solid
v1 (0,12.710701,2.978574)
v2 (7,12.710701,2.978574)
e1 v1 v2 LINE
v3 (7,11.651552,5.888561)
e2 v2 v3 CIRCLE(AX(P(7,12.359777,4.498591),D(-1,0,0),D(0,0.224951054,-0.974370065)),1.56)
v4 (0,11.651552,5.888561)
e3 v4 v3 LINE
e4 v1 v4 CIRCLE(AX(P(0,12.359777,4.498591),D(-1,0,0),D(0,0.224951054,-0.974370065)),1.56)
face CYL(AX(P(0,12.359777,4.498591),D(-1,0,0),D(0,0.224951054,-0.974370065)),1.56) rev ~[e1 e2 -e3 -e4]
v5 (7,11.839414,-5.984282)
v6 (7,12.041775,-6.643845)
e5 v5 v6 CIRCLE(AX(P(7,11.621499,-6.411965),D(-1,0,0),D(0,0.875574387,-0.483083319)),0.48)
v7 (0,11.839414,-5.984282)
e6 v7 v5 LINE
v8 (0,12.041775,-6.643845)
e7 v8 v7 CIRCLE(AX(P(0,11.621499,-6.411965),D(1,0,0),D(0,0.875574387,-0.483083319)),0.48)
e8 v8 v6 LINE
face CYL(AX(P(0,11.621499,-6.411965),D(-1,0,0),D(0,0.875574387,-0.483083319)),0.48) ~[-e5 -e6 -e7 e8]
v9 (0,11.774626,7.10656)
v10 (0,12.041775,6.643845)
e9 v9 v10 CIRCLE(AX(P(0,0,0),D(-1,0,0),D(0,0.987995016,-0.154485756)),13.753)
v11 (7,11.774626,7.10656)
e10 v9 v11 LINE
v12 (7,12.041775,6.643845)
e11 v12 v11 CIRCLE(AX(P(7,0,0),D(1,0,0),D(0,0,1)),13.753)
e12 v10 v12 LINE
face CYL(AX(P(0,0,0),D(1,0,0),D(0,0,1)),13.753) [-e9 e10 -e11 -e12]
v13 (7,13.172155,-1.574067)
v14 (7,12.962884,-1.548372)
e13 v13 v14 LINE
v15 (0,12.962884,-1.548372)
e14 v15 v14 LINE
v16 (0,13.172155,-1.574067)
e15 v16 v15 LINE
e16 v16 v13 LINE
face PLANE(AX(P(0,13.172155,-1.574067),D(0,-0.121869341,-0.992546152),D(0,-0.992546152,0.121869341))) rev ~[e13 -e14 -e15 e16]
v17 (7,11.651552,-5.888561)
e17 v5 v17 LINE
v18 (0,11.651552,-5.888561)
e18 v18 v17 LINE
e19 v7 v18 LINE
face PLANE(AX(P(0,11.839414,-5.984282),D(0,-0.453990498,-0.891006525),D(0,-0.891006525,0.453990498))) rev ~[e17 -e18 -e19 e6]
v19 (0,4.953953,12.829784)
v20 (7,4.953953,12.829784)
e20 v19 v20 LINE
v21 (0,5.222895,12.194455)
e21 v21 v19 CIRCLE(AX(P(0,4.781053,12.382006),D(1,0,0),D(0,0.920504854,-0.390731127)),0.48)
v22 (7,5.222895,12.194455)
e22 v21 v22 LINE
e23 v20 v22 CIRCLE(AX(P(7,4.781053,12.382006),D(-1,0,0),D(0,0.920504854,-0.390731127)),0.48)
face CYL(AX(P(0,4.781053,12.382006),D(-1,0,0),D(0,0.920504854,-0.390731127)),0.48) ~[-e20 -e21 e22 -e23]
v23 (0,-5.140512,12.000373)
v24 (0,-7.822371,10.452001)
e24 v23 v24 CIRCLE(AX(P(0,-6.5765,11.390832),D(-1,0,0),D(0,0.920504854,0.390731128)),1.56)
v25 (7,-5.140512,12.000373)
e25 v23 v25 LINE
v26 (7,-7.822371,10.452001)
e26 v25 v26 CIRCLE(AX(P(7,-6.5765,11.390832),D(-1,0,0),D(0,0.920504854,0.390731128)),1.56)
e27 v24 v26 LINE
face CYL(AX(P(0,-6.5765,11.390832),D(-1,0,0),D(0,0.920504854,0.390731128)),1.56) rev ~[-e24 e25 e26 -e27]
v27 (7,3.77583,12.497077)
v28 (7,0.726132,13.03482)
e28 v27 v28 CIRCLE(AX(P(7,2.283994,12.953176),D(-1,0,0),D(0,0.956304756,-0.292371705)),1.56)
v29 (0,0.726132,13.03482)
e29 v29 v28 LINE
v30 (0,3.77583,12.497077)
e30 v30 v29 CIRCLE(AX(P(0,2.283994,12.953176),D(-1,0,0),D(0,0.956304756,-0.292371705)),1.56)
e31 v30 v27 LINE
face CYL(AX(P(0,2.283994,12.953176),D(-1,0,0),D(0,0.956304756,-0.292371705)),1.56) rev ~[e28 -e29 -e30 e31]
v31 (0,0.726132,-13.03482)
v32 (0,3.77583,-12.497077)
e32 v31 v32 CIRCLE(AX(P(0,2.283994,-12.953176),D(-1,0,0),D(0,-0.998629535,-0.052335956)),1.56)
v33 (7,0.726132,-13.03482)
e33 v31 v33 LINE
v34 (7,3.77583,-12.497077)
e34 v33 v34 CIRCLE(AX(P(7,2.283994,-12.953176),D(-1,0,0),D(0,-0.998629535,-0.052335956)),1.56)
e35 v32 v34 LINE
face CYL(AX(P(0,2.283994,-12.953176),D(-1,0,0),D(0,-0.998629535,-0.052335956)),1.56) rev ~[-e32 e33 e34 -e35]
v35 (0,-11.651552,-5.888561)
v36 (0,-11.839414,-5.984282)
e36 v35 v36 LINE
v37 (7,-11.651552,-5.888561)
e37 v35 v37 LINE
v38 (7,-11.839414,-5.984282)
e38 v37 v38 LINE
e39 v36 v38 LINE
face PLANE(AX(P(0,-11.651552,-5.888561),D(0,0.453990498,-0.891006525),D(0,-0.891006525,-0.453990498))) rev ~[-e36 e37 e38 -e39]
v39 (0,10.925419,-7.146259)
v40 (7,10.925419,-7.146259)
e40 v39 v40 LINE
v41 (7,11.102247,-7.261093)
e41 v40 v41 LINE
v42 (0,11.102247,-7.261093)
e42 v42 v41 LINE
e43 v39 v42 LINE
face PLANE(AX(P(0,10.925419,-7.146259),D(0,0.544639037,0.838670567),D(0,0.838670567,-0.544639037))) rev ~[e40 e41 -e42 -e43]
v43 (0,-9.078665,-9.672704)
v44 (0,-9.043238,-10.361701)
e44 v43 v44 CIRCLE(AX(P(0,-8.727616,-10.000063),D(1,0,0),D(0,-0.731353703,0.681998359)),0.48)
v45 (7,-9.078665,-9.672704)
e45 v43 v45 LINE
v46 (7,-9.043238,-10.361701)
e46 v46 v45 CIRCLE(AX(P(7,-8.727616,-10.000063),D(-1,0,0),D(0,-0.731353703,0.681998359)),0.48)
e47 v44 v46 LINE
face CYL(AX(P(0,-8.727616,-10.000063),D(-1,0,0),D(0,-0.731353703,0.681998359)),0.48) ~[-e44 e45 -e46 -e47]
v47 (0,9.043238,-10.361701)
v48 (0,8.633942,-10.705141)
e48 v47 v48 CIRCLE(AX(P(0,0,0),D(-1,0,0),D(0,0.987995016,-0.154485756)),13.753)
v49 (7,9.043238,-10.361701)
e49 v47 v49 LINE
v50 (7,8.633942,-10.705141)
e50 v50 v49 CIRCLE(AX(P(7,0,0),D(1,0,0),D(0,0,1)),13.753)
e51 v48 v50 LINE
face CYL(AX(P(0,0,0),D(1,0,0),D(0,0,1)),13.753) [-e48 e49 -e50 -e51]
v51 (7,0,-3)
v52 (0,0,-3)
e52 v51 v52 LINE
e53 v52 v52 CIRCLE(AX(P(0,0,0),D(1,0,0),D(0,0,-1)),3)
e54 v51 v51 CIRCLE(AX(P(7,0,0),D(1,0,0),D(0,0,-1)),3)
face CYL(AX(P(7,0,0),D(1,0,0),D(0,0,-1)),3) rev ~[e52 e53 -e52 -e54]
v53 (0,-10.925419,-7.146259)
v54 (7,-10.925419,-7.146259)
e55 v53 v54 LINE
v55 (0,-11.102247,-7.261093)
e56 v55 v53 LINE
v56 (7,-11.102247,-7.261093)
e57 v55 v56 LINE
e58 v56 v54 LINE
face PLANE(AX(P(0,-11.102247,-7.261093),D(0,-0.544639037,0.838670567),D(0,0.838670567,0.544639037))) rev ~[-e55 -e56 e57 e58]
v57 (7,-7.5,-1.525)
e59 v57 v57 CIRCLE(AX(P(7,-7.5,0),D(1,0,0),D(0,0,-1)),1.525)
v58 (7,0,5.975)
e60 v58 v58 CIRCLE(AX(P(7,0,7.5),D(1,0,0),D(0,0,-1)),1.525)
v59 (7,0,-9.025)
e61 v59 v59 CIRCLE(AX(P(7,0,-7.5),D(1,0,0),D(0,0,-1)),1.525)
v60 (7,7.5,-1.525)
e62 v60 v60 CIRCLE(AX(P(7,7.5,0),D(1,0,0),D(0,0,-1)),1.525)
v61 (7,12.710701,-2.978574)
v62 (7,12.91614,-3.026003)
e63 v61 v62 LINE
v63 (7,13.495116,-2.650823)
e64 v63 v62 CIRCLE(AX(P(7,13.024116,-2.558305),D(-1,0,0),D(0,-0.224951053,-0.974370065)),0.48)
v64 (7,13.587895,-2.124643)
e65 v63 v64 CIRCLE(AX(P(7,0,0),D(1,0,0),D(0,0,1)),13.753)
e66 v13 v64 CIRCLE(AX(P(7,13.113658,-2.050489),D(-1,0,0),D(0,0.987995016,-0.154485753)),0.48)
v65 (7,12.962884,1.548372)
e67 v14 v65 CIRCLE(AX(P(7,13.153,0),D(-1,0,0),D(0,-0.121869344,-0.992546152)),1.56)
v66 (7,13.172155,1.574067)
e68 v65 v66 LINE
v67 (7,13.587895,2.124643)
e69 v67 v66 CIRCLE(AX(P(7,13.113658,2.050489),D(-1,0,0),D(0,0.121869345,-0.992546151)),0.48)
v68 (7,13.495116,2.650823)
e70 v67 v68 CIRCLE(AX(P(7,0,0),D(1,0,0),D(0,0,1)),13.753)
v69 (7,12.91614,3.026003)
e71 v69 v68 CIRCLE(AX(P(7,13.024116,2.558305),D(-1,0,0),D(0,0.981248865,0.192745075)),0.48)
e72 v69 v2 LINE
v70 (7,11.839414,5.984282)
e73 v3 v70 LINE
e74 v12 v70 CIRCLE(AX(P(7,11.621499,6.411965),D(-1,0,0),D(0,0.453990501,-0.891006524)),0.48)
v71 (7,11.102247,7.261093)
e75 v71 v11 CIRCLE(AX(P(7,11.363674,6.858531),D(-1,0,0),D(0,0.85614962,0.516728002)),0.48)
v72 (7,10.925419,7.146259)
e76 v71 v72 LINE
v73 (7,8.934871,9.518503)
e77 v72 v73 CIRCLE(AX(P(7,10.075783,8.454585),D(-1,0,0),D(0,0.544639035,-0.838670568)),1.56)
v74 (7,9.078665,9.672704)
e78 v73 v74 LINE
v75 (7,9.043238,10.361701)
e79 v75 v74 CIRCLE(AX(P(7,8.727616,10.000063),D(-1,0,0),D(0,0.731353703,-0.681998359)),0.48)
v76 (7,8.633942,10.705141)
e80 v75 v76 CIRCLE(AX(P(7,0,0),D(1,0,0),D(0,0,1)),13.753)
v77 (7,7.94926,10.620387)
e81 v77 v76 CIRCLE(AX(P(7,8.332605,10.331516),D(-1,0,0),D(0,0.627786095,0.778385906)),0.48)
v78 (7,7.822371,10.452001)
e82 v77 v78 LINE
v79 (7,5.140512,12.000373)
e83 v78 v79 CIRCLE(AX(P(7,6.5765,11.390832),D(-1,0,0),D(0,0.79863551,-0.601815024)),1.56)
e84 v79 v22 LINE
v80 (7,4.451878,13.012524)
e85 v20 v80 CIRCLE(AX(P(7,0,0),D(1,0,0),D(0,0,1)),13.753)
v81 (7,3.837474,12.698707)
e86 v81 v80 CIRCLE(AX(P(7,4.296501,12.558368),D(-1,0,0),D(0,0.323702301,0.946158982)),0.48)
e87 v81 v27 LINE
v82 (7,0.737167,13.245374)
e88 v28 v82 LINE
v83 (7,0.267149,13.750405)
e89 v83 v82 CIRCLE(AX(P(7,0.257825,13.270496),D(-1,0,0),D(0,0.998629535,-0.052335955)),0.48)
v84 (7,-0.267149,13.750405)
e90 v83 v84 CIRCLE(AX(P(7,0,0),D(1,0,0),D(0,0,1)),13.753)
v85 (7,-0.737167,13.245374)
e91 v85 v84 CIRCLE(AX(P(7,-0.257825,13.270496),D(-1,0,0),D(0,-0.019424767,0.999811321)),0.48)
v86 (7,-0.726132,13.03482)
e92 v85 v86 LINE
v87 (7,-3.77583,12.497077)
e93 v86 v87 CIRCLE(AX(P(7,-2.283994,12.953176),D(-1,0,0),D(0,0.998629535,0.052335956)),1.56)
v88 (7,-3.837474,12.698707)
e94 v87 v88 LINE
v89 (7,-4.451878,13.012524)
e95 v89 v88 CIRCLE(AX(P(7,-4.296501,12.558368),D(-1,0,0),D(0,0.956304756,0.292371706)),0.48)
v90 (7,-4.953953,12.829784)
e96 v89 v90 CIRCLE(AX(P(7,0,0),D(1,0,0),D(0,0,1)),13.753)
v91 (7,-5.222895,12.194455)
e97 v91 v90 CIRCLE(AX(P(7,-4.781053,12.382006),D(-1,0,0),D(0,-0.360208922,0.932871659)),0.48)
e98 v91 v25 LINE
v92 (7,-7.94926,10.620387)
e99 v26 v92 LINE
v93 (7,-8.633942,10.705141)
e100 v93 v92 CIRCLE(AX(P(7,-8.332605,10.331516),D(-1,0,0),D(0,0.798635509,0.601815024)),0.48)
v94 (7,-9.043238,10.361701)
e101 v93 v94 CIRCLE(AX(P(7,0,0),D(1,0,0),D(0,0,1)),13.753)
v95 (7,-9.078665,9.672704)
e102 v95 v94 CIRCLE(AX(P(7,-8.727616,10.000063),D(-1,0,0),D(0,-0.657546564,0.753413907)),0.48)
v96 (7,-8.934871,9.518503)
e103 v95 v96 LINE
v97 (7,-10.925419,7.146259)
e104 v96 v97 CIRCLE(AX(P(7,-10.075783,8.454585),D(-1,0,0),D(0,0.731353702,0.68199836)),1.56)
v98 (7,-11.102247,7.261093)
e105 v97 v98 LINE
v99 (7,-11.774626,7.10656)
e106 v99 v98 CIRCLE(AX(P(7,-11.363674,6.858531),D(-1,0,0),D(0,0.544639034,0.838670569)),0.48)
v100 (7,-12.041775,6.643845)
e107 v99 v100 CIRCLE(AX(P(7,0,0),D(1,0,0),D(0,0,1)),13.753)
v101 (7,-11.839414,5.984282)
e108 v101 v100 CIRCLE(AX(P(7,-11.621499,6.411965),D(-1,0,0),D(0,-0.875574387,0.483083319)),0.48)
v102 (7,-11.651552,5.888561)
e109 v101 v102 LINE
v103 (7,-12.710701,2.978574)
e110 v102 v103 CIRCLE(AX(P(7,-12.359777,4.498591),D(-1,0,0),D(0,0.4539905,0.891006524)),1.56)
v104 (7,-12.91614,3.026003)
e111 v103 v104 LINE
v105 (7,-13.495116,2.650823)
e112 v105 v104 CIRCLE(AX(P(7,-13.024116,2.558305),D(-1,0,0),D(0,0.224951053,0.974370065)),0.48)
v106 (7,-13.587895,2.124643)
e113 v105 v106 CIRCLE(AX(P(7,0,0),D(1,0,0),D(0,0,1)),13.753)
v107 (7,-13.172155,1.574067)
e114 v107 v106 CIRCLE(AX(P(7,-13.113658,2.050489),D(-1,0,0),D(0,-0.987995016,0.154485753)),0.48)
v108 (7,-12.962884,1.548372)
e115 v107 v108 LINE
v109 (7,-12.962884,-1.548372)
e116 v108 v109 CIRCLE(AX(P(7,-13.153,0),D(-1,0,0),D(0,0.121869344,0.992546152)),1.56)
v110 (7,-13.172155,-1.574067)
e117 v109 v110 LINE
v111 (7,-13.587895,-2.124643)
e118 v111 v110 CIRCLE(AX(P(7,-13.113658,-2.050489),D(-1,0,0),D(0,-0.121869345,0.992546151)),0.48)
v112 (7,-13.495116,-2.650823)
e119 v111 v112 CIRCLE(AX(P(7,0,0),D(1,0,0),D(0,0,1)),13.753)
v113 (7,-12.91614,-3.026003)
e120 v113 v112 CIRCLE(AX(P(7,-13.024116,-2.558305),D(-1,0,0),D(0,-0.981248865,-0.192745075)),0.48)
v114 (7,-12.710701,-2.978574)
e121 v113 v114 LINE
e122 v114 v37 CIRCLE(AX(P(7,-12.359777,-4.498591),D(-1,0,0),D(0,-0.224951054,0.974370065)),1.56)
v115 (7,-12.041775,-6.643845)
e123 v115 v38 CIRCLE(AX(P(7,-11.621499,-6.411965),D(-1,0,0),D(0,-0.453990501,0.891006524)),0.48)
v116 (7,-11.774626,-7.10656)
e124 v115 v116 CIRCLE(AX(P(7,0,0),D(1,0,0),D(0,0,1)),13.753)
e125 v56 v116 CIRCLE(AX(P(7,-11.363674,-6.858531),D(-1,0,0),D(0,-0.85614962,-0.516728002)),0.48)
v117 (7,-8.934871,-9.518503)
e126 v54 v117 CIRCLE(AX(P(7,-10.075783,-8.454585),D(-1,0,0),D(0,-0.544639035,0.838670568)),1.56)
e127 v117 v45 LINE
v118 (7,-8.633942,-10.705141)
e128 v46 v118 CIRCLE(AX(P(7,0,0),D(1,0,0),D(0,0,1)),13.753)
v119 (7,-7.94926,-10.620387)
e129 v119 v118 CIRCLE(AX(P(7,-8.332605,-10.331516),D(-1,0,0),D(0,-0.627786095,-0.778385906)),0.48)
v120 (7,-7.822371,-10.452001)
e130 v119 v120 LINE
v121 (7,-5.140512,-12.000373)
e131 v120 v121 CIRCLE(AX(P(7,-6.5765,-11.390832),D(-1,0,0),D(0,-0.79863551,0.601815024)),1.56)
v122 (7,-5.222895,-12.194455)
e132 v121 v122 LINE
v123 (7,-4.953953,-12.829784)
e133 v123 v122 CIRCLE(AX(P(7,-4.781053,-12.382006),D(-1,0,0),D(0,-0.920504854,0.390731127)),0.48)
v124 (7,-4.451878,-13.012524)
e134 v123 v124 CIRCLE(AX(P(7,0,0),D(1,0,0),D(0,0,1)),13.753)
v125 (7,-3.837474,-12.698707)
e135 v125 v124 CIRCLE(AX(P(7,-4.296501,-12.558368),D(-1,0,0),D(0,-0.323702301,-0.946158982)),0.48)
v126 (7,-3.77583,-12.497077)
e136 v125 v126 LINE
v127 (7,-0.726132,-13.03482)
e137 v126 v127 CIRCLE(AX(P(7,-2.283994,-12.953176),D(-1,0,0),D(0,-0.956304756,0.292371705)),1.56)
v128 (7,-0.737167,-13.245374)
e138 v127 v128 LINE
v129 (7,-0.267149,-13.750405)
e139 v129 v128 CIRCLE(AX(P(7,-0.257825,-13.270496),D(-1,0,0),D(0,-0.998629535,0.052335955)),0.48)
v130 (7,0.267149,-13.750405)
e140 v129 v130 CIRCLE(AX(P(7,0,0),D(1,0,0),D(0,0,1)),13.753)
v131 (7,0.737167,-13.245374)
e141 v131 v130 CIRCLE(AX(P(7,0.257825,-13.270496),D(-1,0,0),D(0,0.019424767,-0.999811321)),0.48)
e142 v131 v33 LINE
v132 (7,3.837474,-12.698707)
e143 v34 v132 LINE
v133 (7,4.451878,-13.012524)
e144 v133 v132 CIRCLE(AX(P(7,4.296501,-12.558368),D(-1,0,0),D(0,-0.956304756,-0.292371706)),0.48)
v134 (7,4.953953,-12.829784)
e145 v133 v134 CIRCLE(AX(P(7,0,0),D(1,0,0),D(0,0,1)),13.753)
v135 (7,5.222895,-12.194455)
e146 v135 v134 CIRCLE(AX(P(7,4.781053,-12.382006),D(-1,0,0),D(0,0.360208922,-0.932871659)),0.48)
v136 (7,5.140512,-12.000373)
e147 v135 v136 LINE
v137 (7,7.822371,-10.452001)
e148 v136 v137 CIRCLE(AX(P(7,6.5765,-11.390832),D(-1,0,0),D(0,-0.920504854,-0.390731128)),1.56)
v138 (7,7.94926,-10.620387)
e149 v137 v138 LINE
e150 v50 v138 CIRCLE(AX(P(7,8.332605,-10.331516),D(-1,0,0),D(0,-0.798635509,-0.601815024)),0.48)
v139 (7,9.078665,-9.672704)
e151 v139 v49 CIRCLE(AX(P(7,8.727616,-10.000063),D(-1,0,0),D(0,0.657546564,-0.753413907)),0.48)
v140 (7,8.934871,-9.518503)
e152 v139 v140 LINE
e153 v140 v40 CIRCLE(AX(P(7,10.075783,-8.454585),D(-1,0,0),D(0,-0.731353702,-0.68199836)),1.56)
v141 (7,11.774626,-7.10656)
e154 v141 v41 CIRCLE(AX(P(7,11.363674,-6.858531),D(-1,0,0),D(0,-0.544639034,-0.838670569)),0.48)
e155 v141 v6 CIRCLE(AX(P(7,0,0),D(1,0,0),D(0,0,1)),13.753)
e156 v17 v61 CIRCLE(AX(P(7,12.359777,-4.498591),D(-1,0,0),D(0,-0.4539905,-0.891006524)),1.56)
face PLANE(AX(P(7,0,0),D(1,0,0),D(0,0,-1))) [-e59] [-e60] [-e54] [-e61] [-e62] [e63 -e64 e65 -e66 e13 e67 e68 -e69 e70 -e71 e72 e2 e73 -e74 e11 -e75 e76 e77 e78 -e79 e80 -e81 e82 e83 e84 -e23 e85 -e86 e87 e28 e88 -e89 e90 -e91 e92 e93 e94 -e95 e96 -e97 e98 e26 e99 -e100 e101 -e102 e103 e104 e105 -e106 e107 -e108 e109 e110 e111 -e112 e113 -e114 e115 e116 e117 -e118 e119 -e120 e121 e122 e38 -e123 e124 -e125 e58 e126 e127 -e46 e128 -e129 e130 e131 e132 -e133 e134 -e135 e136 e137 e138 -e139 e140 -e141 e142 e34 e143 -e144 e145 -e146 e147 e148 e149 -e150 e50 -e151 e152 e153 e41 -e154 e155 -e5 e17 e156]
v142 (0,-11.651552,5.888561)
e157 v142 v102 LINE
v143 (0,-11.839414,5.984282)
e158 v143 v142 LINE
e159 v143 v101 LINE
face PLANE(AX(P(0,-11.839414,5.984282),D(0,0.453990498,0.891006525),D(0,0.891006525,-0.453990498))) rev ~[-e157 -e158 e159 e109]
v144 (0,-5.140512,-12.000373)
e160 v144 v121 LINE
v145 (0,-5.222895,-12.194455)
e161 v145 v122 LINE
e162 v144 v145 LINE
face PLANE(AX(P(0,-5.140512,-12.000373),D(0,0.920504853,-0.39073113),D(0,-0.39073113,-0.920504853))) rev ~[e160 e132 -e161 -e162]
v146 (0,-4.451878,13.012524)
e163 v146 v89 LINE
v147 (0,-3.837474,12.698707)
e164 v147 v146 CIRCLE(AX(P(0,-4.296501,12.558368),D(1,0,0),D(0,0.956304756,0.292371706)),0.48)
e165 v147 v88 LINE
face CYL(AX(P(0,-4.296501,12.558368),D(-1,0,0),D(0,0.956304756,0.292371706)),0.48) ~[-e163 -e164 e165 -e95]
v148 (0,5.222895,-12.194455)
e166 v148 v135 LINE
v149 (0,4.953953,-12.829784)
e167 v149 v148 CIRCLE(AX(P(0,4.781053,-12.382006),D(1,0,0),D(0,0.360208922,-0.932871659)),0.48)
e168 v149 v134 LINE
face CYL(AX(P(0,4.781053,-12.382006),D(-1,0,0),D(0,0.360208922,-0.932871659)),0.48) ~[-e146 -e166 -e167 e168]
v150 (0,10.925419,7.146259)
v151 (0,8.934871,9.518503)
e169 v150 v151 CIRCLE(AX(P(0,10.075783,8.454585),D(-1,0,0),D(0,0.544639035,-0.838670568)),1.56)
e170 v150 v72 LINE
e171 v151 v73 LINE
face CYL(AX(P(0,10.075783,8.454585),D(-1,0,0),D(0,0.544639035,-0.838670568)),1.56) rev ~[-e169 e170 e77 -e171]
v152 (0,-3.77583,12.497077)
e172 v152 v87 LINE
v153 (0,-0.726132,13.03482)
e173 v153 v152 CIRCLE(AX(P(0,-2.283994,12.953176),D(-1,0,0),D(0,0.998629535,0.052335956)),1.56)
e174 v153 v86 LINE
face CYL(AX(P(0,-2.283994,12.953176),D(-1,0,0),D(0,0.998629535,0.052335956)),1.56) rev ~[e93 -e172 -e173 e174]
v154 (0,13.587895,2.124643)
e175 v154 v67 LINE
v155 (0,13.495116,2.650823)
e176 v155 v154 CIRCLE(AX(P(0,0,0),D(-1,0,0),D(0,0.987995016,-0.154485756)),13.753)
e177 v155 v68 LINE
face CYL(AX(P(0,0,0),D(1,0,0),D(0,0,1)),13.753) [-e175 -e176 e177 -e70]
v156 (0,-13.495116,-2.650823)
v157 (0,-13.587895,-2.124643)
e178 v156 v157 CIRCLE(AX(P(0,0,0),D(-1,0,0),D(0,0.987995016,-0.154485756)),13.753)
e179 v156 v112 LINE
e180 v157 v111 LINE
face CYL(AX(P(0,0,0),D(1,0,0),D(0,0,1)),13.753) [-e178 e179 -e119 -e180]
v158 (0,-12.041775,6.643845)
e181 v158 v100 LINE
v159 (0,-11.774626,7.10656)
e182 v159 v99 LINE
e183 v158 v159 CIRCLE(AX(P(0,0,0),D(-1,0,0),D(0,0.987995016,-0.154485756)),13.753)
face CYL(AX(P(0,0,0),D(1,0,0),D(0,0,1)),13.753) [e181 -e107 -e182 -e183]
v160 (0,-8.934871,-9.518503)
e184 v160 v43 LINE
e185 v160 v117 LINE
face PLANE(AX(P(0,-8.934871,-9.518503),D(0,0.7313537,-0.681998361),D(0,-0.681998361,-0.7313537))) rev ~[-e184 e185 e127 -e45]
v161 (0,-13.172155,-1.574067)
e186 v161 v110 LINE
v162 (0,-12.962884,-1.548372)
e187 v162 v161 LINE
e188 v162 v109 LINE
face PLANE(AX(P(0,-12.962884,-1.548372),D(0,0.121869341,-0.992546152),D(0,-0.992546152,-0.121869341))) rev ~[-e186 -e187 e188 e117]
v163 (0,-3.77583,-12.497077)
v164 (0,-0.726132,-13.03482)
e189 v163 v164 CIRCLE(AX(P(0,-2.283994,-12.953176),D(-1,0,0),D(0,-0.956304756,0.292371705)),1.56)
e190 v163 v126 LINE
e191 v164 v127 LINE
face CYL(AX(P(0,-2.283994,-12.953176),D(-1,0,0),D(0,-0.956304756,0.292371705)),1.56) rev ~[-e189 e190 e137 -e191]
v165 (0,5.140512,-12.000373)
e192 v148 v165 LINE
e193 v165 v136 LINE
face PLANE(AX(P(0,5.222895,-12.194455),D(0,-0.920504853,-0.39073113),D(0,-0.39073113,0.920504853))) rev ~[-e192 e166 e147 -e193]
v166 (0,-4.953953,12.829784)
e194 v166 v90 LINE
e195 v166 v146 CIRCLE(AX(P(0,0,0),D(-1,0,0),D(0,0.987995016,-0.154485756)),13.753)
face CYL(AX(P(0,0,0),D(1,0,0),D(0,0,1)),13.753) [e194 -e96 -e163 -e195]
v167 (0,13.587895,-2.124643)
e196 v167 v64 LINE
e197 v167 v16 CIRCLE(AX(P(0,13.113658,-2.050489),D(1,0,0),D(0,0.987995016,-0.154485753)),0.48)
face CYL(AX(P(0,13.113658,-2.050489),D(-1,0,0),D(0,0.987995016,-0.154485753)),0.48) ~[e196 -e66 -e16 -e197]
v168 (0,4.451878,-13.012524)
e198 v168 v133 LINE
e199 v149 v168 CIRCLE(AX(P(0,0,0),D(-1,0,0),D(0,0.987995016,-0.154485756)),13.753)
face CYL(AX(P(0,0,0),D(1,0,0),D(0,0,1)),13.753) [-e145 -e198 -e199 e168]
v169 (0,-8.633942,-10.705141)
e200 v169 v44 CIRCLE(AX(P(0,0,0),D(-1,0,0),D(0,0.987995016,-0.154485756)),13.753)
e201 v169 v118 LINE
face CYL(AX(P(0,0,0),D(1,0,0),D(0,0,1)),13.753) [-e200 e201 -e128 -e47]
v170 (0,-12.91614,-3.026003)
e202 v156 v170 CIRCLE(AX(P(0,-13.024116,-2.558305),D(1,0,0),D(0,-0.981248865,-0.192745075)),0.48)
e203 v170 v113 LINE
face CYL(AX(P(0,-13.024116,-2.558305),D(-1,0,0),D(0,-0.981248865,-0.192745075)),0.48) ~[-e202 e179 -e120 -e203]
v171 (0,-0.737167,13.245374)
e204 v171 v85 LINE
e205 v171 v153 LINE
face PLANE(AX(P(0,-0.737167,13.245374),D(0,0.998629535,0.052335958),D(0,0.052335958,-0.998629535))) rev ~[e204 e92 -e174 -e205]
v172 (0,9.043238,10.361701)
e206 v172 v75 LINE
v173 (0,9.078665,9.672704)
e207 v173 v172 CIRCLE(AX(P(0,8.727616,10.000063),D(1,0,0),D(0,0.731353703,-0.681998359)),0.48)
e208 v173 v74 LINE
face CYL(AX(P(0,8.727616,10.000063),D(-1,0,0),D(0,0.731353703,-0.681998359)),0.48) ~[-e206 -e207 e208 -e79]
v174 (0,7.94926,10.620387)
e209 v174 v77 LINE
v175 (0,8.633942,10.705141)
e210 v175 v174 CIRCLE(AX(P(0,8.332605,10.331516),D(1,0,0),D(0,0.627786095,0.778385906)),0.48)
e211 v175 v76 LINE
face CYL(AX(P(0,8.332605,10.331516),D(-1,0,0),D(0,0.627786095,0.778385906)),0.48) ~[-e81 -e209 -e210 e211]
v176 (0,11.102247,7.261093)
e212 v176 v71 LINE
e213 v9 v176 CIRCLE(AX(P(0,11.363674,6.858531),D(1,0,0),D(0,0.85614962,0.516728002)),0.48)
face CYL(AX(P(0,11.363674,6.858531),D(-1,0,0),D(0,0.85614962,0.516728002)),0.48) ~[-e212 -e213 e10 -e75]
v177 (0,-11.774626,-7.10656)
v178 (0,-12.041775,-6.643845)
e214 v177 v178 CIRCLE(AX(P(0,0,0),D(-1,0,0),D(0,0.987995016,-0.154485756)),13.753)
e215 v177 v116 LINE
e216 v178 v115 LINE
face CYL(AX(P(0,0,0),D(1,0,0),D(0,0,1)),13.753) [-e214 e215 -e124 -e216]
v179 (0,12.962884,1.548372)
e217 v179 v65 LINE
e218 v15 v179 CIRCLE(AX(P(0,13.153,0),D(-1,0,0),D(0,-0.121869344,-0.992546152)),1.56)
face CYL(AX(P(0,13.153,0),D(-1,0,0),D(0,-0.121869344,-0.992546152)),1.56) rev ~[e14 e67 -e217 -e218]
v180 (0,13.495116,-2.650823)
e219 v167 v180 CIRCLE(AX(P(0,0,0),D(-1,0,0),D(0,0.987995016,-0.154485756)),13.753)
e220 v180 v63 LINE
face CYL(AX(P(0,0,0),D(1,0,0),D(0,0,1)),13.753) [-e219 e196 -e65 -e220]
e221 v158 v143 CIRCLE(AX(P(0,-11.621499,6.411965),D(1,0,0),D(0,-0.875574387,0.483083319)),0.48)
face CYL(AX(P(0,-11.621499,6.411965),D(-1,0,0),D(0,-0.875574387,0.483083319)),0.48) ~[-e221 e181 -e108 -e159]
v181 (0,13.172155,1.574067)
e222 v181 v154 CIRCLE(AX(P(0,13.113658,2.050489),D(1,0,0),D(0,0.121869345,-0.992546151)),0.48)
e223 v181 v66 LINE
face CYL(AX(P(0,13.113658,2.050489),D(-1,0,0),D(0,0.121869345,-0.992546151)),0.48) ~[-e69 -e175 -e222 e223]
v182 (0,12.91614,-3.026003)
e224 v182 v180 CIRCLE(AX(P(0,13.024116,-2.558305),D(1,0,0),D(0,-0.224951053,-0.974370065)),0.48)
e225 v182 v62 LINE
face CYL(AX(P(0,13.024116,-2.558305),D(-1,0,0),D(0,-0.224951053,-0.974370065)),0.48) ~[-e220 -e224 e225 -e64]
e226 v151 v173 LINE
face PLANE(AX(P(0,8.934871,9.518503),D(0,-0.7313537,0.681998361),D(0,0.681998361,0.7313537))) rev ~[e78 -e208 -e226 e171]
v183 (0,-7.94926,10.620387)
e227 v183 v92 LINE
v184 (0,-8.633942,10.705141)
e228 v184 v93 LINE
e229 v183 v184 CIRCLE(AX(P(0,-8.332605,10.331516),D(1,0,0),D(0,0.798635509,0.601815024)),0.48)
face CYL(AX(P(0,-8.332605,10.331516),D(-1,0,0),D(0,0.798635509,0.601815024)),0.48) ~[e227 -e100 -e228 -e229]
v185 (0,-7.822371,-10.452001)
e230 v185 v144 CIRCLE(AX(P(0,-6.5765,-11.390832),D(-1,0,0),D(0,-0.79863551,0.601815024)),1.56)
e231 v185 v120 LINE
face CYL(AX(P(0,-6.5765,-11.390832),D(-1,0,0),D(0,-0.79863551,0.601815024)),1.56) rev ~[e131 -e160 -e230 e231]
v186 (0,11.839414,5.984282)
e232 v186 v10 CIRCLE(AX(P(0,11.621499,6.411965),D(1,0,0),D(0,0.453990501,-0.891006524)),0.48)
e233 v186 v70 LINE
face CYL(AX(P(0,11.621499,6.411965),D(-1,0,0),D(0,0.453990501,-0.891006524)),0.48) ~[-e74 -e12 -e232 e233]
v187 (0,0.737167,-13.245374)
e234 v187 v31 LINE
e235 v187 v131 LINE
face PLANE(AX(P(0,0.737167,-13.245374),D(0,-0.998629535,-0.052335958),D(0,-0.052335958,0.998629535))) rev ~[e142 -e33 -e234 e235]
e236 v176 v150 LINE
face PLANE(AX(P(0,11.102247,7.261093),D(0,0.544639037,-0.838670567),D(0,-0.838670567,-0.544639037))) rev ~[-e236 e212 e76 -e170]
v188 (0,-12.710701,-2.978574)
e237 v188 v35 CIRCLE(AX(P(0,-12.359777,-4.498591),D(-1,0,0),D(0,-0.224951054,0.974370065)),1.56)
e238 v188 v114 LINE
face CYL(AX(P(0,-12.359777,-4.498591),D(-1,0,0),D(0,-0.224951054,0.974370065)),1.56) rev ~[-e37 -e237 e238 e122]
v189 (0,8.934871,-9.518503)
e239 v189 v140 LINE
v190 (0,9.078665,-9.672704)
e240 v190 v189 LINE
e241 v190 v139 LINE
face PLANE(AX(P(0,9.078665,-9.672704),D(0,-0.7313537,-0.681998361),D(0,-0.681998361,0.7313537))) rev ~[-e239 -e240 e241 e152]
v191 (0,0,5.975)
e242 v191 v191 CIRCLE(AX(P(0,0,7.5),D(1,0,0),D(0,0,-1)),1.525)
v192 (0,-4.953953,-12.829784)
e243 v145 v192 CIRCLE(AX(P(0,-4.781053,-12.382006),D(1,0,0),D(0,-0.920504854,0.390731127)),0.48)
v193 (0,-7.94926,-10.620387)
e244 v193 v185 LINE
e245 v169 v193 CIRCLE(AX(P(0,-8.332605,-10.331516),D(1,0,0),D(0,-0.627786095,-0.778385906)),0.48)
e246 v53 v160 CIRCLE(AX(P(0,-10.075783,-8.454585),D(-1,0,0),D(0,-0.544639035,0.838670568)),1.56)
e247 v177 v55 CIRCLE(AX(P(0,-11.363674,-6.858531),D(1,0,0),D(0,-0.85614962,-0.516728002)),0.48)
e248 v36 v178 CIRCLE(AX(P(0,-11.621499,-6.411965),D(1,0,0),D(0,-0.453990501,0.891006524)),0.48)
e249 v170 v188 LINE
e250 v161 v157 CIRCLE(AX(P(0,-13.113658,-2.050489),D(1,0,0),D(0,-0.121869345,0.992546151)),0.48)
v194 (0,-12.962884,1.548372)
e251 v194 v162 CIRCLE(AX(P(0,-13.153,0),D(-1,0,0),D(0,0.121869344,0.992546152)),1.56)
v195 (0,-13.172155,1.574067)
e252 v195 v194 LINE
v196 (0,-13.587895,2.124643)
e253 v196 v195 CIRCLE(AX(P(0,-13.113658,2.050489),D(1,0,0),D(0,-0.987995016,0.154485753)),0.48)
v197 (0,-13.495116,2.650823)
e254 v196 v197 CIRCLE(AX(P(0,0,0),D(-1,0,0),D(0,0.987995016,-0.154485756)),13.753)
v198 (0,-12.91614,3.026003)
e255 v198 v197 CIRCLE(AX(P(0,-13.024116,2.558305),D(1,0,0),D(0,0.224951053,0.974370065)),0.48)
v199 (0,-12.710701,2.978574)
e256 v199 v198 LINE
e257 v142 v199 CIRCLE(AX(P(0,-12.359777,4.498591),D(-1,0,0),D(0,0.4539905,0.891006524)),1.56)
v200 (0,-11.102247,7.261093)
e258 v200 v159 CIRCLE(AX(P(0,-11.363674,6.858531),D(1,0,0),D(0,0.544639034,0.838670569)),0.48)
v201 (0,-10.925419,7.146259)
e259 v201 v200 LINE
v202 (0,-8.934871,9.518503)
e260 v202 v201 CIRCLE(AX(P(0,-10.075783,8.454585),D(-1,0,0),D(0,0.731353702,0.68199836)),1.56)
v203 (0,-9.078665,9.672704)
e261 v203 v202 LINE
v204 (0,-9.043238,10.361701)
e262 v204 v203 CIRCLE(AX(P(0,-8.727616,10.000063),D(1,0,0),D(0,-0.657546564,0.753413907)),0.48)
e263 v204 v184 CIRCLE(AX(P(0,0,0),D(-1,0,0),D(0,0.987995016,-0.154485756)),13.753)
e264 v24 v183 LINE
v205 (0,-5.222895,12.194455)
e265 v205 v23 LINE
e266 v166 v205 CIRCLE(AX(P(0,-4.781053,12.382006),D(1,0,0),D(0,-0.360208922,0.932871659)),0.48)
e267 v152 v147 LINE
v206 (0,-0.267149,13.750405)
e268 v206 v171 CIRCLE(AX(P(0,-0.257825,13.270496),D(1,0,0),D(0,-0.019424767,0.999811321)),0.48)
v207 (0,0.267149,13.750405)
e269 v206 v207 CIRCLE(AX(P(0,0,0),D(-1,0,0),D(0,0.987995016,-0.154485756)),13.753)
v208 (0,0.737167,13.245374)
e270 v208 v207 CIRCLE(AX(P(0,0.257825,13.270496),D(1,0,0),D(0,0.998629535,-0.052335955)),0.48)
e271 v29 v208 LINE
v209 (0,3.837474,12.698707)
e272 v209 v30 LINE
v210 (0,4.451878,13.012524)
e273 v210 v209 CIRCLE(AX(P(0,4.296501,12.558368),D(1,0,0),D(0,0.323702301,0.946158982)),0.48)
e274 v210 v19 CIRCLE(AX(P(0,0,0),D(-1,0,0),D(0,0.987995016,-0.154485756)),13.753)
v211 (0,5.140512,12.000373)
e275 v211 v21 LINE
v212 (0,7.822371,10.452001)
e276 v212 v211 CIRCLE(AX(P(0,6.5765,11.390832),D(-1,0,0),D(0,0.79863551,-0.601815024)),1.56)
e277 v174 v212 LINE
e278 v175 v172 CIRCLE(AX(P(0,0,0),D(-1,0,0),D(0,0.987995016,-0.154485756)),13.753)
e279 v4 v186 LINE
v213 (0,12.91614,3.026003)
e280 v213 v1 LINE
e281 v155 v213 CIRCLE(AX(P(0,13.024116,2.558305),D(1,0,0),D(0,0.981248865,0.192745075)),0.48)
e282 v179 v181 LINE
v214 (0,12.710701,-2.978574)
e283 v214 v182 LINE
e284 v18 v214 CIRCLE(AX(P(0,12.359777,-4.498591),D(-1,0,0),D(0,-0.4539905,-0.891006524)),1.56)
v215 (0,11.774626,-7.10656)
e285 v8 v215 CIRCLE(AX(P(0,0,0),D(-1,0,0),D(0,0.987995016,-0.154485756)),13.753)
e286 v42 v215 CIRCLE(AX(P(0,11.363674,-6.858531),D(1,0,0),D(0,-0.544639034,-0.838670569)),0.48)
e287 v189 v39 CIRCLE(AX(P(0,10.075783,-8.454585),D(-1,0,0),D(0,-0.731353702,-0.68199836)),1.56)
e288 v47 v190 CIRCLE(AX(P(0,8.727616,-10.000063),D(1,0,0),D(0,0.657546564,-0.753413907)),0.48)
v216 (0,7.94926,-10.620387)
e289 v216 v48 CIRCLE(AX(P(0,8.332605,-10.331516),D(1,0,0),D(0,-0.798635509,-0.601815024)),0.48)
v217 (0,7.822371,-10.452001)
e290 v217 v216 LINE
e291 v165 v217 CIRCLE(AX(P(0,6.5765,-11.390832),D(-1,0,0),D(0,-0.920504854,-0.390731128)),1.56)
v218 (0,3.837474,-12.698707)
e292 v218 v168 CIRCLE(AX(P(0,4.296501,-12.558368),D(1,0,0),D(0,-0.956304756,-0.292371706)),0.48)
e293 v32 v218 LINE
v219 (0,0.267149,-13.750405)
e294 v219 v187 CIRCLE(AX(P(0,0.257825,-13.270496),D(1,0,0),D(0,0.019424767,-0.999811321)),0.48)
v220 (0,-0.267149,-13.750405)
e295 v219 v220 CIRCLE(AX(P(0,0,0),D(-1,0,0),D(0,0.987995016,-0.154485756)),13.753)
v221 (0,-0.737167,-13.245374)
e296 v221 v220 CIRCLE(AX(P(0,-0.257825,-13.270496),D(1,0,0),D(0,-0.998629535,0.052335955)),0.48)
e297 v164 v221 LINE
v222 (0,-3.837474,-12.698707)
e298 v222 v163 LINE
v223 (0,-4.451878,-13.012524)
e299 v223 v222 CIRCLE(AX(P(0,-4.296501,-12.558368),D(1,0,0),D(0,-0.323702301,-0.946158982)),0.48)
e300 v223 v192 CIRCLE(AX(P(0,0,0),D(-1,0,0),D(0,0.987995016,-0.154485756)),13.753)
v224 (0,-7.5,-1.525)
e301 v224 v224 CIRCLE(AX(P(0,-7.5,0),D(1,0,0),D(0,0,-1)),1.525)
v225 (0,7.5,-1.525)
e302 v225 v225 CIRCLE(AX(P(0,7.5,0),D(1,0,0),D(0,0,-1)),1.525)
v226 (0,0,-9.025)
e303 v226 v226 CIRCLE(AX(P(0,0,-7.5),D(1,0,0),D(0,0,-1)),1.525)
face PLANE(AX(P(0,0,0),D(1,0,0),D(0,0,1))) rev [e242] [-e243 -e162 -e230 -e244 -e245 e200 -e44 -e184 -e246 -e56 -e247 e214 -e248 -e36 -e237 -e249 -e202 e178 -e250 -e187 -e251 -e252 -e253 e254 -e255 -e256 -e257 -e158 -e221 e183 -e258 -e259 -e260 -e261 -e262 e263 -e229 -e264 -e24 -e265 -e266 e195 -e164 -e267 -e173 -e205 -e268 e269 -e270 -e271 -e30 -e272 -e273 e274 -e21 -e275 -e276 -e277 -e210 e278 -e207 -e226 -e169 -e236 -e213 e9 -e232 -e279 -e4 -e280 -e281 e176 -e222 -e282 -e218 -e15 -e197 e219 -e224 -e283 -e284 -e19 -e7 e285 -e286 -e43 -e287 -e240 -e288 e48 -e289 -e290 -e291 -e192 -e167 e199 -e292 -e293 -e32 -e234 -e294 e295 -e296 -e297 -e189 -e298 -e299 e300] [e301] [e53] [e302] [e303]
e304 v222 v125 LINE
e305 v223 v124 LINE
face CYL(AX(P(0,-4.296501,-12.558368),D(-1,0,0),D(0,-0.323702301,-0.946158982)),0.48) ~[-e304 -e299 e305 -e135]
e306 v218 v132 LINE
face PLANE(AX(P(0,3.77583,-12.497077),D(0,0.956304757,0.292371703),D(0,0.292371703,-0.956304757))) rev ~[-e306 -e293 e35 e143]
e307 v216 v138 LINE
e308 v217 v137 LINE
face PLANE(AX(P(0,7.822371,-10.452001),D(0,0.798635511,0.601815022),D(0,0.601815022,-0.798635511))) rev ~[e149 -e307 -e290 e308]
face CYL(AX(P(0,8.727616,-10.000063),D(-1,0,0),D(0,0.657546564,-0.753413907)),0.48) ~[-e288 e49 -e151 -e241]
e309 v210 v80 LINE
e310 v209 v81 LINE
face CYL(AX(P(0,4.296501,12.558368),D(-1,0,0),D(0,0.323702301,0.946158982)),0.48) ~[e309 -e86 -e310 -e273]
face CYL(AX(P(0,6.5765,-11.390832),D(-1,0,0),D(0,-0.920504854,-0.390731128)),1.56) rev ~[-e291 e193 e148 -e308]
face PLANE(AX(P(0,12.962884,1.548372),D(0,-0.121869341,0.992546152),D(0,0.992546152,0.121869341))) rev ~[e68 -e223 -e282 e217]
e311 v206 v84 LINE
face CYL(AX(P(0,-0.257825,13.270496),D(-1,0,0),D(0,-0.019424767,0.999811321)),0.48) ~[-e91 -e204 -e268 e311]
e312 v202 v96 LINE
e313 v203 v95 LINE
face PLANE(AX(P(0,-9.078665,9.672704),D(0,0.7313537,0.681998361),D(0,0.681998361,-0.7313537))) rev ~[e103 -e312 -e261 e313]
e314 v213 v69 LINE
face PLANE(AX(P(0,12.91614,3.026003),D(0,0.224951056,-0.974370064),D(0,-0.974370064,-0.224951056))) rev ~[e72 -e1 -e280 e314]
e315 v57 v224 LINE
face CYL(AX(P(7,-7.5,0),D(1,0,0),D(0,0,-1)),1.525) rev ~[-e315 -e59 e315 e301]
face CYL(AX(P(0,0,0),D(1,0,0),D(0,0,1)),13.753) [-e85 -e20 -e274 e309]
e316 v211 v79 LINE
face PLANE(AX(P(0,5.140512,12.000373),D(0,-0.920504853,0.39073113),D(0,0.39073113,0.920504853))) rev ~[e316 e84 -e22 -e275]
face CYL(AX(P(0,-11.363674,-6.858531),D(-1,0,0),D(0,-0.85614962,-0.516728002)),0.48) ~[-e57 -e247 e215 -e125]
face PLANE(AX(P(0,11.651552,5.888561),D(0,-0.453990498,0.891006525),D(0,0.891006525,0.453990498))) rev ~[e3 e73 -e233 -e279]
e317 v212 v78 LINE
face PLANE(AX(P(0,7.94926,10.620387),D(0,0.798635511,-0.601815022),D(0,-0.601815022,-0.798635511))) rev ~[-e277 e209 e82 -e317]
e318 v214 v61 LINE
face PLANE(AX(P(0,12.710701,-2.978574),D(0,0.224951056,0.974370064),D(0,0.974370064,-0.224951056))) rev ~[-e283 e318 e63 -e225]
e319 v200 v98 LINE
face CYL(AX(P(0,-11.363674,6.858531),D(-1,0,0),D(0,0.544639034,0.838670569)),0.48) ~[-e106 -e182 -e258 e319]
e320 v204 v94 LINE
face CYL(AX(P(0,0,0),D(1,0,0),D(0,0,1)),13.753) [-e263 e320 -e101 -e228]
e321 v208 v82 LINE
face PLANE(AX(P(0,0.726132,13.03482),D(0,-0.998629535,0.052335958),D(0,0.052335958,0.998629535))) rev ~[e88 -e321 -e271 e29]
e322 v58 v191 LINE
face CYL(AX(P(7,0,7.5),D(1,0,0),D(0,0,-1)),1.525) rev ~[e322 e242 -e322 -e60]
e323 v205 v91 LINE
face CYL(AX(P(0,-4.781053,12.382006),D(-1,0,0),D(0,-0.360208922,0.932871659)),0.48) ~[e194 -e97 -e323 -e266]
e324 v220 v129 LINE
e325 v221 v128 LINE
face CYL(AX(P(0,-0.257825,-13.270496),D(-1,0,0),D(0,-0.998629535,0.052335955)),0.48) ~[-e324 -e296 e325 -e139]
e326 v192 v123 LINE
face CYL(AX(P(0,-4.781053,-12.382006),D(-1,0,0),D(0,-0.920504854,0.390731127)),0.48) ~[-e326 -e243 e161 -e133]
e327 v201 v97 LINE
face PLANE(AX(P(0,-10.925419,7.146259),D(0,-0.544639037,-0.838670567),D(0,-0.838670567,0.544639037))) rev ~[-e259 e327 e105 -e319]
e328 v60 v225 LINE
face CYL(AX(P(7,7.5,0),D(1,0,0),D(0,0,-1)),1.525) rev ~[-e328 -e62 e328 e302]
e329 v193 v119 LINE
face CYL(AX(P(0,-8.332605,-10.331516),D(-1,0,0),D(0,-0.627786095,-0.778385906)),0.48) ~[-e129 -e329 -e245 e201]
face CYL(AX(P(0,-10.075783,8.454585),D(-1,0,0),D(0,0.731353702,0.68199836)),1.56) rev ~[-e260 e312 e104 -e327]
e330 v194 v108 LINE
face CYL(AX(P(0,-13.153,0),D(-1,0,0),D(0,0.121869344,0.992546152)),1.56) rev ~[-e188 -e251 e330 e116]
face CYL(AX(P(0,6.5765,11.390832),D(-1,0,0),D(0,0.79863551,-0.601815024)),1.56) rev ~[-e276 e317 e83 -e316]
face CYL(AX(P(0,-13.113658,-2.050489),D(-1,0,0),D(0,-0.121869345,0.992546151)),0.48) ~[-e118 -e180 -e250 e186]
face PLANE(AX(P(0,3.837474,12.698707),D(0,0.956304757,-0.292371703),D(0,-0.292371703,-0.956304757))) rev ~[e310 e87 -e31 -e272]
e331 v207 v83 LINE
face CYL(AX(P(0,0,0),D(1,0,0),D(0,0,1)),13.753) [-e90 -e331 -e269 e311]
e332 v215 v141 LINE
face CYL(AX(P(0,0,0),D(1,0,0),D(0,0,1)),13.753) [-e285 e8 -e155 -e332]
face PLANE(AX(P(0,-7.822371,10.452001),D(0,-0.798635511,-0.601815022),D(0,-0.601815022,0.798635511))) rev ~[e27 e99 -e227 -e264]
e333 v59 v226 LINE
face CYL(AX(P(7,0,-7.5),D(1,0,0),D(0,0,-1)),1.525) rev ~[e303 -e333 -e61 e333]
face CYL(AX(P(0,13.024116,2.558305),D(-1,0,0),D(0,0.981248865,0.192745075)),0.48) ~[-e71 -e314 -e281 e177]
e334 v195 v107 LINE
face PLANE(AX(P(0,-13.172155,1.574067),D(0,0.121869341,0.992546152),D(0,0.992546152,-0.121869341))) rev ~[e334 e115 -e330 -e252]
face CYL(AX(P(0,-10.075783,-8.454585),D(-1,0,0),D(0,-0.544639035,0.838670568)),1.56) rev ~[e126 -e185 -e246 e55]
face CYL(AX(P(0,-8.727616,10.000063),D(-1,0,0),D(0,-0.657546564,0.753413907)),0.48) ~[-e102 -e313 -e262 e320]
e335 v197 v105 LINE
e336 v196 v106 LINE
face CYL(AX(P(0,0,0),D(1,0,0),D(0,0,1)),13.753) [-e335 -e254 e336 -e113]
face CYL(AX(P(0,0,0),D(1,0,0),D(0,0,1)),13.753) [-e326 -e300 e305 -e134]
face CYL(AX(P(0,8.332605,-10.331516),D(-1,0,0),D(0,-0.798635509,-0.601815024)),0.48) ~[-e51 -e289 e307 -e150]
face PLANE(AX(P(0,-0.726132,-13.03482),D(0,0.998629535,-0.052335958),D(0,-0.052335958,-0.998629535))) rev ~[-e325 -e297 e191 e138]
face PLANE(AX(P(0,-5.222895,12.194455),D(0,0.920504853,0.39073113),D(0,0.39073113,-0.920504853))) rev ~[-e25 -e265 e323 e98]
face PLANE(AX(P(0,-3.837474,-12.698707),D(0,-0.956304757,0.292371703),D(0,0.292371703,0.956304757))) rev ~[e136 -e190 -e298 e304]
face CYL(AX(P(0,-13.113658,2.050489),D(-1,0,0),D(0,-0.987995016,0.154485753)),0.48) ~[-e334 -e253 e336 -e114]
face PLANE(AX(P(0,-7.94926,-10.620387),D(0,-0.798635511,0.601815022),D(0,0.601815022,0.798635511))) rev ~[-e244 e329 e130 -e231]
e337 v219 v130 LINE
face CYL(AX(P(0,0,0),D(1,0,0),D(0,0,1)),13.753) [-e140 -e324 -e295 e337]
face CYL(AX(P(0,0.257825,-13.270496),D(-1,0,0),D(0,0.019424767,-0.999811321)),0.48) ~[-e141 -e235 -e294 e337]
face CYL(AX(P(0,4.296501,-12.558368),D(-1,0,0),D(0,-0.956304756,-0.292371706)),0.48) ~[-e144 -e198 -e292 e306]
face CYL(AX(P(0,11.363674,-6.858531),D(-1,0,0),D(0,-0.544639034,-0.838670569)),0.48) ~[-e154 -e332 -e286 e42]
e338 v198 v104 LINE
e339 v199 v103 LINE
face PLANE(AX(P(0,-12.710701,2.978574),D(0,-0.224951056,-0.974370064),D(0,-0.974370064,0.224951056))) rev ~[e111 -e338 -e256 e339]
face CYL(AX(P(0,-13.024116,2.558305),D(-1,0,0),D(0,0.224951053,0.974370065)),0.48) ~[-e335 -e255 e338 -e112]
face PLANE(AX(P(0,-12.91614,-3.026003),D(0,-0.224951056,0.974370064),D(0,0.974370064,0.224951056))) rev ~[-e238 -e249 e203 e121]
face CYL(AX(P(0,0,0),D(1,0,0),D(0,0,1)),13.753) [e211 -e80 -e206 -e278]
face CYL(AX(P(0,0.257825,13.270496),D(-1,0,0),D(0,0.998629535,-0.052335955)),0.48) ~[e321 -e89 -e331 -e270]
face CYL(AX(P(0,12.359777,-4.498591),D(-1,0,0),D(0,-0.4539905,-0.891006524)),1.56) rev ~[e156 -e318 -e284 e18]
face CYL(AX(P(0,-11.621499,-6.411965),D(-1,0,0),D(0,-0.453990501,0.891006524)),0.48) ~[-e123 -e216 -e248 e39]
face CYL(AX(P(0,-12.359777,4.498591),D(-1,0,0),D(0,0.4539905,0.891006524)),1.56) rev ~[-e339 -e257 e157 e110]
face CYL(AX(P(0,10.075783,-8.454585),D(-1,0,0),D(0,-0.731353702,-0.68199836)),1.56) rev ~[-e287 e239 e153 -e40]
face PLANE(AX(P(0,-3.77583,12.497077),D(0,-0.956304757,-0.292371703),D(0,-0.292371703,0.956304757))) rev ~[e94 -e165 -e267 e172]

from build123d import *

# Parameters (mm, degrees)
CHAMFER_1_SIZE           = 1
SKETCH_4_W               = 2
SKETCH_4_H               = 1
CUT_EXTRUDE_1_DEPTH      = 35.092374778
CUT_EXTRUDE_2_REACH      = 36.092
PATTERN_CIRCULAR_3_COUNT = 18
SKETCH_7_R               = 25
CUT_EXTRUDE_3_DEPTH      = 21
SKETCH_8_R               = 5
EXTRUDE_1_DEPTH          = 7
SKETCH_10_R              = 3
CUT_EXTRUDE_4_DEPTH      = 10
SKETCH_11_R              = 1.525
CUT_EXTRUDE_5_DEPTH      = 46


with BuildPart() as part:
    # 草图1 → 旋转1 (revolve)
    with BuildSketch(Plane.XY, mode=Mode.PRIVATE) as revolve_1_sk:
        Polygon((0, 2.7506), (0, 13.753), (28, 13.753), (28, 5.5012), (20, 5.5012), (20, 2.7506), align=None)
    revolve(revolve_1_sk.sketch.rotate(Axis((0, 0, 0), (1, 0, 0)), 90), axis=Axis((0, 0, 0), (1, 0, 0)))

    # 倒角1
    chamfer_1_edges = [part.edges().sort_by_distance(p)[0] for p in [
        (20, 0, -2.7506),
        (0, 0, -2.7506),
    ]]
    chamfer(chamfer_1_edges, length=CHAMFER_1_SIZE)

    # 草图4 → 切除-拉伸1 (cut, through all)
    with BuildSketch(Plane.ZY):
        with Locations((0, 3.062381775)):
            Rectangle(SKETCH_4_W, SKETCH_4_H)
    extrude(amount=-CUT_EXTRUDE_1_DEPTH, mode=Mode.SUBTRACT)

    # 草图6 → 切除-拉伸2 (cut, up to next)
    with BuildSketch(Plane(origin=(0, 0, 0), x_dir=(0, 0, -1), z_dir=(1, 0, 0)), mode=Mode.PRIVATE) as cut_extrude_2_sk1:
        with BuildLine():
            Line((1.574067282, 13.17215513), (1.548371997, 12.962883824))
            ThreePointArc((1.548371997, 12.962883824), (0, 11.593), (-1.548371997, 12.962883824))
            Line((-1.548371997, 12.962883824), (-1.574067282, 13.17215513))
            ThreePointArc((-1.574067282, 13.17215513), (-1.761240253, 13.496717776), (-2.124642597, 13.587895453))
            ThreePointArc((-2.124642597, 13.587895453), (-2.36143787, 13.548749765), (-2.597513963, 13.505477785))
            Line((-2.597513963, 13.505477785), (-2.794161951, 15.107047128))
            ThreePointArc((-2.794161951, 15.107047128), (0, 15.363274844), (2.794161951, 15.107047128))
            Line((2.794161951, 15.107047128), (2.597513963, 13.505477785))
            ThreePointArc((2.597513963, 13.505477785), (2.36143787, 13.548749765), (2.124642597, 13.587895453))
            ThreePointArc((2.124642597, 13.587895453), (1.761240253, 13.496717776), (1.574067282, 13.17215513))
        make_face()
    cut_extrude_2_tool1 = extrude(cut_extrude_2_sk1.sketch, amount=CUT_EXTRUDE_2_REACH, mode=Mode.PRIVATE) & part.part
    cut_extrude_2 = cut_extrude_2_tool1.solids().sort_by_distance((0, 13.819423, 0))[0]
    add(cut_extrude_2, mode=Mode.SUBTRACT)

    # 阵列(圆周)3: 切除-拉伸2 ×18 about axis
    pattern_circular_3_axis = Axis((0, 0, 0), (1, 0, 0))
    for i in range(1, PATTERN_CIRCULAR_3_COUNT):
        add(cut_extrude_2.rotate(pattern_circular_3_axis, i * 360 / PATTERN_CIRCULAR_3_COUNT), mode=Mode.SUBTRACT)

    # 草图7 → 切除-拉伸3 (cut)
    with BuildSketch(Plane(origin=(28, 0, 0), x_dir=(0, 0, -1), z_dir=(1, 0, 0))):
        Circle(SKETCH_7_R)
    extrude(amount=-CUT_EXTRUDE_3_DEPTH, mode=Mode.SUBTRACT)

    # 草图8 → 凸台-拉伸1 (add)
    with BuildSketch(Plane(origin=(7, 0, 0), x_dir=(0, 0, -1), z_dir=(1, 0, 0))):
        Circle(SKETCH_8_R)
    extrude(amount=-EXTRUDE_1_DEPTH)

    # 草图10 → 切除-拉伸4 (cut)
    with BuildSketch(Plane(origin=(7, 0, 0), x_dir=(0, 0, -1), z_dir=(1, 0, 0))):
        Circle(SKETCH_10_R)
    extrude(amount=-CUT_EXTRUDE_4_DEPTH, mode=Mode.SUBTRACT)

    # 草图11 → 切除-拉伸5 (cut)
    with BuildSketch(Plane(origin=(7, 0, 0), x_dir=(0, 0, -1), z_dir=(1, 0, 0))):
        with Locations((0, 7.5)):
            Circle(SKETCH_11_R)
        with Locations((7.5, 0)):
            Circle(SKETCH_11_R)
        with Locations((0, -7.5)):
            Circle(SKETCH_11_R)
        with Locations((-7.5, 0)):
            Circle(SKETCH_11_R)
    extrude(amount=-CUT_EXTRUDE_5_DEPTH, mode=Mode.SUBTRACT)


solid = part.part
